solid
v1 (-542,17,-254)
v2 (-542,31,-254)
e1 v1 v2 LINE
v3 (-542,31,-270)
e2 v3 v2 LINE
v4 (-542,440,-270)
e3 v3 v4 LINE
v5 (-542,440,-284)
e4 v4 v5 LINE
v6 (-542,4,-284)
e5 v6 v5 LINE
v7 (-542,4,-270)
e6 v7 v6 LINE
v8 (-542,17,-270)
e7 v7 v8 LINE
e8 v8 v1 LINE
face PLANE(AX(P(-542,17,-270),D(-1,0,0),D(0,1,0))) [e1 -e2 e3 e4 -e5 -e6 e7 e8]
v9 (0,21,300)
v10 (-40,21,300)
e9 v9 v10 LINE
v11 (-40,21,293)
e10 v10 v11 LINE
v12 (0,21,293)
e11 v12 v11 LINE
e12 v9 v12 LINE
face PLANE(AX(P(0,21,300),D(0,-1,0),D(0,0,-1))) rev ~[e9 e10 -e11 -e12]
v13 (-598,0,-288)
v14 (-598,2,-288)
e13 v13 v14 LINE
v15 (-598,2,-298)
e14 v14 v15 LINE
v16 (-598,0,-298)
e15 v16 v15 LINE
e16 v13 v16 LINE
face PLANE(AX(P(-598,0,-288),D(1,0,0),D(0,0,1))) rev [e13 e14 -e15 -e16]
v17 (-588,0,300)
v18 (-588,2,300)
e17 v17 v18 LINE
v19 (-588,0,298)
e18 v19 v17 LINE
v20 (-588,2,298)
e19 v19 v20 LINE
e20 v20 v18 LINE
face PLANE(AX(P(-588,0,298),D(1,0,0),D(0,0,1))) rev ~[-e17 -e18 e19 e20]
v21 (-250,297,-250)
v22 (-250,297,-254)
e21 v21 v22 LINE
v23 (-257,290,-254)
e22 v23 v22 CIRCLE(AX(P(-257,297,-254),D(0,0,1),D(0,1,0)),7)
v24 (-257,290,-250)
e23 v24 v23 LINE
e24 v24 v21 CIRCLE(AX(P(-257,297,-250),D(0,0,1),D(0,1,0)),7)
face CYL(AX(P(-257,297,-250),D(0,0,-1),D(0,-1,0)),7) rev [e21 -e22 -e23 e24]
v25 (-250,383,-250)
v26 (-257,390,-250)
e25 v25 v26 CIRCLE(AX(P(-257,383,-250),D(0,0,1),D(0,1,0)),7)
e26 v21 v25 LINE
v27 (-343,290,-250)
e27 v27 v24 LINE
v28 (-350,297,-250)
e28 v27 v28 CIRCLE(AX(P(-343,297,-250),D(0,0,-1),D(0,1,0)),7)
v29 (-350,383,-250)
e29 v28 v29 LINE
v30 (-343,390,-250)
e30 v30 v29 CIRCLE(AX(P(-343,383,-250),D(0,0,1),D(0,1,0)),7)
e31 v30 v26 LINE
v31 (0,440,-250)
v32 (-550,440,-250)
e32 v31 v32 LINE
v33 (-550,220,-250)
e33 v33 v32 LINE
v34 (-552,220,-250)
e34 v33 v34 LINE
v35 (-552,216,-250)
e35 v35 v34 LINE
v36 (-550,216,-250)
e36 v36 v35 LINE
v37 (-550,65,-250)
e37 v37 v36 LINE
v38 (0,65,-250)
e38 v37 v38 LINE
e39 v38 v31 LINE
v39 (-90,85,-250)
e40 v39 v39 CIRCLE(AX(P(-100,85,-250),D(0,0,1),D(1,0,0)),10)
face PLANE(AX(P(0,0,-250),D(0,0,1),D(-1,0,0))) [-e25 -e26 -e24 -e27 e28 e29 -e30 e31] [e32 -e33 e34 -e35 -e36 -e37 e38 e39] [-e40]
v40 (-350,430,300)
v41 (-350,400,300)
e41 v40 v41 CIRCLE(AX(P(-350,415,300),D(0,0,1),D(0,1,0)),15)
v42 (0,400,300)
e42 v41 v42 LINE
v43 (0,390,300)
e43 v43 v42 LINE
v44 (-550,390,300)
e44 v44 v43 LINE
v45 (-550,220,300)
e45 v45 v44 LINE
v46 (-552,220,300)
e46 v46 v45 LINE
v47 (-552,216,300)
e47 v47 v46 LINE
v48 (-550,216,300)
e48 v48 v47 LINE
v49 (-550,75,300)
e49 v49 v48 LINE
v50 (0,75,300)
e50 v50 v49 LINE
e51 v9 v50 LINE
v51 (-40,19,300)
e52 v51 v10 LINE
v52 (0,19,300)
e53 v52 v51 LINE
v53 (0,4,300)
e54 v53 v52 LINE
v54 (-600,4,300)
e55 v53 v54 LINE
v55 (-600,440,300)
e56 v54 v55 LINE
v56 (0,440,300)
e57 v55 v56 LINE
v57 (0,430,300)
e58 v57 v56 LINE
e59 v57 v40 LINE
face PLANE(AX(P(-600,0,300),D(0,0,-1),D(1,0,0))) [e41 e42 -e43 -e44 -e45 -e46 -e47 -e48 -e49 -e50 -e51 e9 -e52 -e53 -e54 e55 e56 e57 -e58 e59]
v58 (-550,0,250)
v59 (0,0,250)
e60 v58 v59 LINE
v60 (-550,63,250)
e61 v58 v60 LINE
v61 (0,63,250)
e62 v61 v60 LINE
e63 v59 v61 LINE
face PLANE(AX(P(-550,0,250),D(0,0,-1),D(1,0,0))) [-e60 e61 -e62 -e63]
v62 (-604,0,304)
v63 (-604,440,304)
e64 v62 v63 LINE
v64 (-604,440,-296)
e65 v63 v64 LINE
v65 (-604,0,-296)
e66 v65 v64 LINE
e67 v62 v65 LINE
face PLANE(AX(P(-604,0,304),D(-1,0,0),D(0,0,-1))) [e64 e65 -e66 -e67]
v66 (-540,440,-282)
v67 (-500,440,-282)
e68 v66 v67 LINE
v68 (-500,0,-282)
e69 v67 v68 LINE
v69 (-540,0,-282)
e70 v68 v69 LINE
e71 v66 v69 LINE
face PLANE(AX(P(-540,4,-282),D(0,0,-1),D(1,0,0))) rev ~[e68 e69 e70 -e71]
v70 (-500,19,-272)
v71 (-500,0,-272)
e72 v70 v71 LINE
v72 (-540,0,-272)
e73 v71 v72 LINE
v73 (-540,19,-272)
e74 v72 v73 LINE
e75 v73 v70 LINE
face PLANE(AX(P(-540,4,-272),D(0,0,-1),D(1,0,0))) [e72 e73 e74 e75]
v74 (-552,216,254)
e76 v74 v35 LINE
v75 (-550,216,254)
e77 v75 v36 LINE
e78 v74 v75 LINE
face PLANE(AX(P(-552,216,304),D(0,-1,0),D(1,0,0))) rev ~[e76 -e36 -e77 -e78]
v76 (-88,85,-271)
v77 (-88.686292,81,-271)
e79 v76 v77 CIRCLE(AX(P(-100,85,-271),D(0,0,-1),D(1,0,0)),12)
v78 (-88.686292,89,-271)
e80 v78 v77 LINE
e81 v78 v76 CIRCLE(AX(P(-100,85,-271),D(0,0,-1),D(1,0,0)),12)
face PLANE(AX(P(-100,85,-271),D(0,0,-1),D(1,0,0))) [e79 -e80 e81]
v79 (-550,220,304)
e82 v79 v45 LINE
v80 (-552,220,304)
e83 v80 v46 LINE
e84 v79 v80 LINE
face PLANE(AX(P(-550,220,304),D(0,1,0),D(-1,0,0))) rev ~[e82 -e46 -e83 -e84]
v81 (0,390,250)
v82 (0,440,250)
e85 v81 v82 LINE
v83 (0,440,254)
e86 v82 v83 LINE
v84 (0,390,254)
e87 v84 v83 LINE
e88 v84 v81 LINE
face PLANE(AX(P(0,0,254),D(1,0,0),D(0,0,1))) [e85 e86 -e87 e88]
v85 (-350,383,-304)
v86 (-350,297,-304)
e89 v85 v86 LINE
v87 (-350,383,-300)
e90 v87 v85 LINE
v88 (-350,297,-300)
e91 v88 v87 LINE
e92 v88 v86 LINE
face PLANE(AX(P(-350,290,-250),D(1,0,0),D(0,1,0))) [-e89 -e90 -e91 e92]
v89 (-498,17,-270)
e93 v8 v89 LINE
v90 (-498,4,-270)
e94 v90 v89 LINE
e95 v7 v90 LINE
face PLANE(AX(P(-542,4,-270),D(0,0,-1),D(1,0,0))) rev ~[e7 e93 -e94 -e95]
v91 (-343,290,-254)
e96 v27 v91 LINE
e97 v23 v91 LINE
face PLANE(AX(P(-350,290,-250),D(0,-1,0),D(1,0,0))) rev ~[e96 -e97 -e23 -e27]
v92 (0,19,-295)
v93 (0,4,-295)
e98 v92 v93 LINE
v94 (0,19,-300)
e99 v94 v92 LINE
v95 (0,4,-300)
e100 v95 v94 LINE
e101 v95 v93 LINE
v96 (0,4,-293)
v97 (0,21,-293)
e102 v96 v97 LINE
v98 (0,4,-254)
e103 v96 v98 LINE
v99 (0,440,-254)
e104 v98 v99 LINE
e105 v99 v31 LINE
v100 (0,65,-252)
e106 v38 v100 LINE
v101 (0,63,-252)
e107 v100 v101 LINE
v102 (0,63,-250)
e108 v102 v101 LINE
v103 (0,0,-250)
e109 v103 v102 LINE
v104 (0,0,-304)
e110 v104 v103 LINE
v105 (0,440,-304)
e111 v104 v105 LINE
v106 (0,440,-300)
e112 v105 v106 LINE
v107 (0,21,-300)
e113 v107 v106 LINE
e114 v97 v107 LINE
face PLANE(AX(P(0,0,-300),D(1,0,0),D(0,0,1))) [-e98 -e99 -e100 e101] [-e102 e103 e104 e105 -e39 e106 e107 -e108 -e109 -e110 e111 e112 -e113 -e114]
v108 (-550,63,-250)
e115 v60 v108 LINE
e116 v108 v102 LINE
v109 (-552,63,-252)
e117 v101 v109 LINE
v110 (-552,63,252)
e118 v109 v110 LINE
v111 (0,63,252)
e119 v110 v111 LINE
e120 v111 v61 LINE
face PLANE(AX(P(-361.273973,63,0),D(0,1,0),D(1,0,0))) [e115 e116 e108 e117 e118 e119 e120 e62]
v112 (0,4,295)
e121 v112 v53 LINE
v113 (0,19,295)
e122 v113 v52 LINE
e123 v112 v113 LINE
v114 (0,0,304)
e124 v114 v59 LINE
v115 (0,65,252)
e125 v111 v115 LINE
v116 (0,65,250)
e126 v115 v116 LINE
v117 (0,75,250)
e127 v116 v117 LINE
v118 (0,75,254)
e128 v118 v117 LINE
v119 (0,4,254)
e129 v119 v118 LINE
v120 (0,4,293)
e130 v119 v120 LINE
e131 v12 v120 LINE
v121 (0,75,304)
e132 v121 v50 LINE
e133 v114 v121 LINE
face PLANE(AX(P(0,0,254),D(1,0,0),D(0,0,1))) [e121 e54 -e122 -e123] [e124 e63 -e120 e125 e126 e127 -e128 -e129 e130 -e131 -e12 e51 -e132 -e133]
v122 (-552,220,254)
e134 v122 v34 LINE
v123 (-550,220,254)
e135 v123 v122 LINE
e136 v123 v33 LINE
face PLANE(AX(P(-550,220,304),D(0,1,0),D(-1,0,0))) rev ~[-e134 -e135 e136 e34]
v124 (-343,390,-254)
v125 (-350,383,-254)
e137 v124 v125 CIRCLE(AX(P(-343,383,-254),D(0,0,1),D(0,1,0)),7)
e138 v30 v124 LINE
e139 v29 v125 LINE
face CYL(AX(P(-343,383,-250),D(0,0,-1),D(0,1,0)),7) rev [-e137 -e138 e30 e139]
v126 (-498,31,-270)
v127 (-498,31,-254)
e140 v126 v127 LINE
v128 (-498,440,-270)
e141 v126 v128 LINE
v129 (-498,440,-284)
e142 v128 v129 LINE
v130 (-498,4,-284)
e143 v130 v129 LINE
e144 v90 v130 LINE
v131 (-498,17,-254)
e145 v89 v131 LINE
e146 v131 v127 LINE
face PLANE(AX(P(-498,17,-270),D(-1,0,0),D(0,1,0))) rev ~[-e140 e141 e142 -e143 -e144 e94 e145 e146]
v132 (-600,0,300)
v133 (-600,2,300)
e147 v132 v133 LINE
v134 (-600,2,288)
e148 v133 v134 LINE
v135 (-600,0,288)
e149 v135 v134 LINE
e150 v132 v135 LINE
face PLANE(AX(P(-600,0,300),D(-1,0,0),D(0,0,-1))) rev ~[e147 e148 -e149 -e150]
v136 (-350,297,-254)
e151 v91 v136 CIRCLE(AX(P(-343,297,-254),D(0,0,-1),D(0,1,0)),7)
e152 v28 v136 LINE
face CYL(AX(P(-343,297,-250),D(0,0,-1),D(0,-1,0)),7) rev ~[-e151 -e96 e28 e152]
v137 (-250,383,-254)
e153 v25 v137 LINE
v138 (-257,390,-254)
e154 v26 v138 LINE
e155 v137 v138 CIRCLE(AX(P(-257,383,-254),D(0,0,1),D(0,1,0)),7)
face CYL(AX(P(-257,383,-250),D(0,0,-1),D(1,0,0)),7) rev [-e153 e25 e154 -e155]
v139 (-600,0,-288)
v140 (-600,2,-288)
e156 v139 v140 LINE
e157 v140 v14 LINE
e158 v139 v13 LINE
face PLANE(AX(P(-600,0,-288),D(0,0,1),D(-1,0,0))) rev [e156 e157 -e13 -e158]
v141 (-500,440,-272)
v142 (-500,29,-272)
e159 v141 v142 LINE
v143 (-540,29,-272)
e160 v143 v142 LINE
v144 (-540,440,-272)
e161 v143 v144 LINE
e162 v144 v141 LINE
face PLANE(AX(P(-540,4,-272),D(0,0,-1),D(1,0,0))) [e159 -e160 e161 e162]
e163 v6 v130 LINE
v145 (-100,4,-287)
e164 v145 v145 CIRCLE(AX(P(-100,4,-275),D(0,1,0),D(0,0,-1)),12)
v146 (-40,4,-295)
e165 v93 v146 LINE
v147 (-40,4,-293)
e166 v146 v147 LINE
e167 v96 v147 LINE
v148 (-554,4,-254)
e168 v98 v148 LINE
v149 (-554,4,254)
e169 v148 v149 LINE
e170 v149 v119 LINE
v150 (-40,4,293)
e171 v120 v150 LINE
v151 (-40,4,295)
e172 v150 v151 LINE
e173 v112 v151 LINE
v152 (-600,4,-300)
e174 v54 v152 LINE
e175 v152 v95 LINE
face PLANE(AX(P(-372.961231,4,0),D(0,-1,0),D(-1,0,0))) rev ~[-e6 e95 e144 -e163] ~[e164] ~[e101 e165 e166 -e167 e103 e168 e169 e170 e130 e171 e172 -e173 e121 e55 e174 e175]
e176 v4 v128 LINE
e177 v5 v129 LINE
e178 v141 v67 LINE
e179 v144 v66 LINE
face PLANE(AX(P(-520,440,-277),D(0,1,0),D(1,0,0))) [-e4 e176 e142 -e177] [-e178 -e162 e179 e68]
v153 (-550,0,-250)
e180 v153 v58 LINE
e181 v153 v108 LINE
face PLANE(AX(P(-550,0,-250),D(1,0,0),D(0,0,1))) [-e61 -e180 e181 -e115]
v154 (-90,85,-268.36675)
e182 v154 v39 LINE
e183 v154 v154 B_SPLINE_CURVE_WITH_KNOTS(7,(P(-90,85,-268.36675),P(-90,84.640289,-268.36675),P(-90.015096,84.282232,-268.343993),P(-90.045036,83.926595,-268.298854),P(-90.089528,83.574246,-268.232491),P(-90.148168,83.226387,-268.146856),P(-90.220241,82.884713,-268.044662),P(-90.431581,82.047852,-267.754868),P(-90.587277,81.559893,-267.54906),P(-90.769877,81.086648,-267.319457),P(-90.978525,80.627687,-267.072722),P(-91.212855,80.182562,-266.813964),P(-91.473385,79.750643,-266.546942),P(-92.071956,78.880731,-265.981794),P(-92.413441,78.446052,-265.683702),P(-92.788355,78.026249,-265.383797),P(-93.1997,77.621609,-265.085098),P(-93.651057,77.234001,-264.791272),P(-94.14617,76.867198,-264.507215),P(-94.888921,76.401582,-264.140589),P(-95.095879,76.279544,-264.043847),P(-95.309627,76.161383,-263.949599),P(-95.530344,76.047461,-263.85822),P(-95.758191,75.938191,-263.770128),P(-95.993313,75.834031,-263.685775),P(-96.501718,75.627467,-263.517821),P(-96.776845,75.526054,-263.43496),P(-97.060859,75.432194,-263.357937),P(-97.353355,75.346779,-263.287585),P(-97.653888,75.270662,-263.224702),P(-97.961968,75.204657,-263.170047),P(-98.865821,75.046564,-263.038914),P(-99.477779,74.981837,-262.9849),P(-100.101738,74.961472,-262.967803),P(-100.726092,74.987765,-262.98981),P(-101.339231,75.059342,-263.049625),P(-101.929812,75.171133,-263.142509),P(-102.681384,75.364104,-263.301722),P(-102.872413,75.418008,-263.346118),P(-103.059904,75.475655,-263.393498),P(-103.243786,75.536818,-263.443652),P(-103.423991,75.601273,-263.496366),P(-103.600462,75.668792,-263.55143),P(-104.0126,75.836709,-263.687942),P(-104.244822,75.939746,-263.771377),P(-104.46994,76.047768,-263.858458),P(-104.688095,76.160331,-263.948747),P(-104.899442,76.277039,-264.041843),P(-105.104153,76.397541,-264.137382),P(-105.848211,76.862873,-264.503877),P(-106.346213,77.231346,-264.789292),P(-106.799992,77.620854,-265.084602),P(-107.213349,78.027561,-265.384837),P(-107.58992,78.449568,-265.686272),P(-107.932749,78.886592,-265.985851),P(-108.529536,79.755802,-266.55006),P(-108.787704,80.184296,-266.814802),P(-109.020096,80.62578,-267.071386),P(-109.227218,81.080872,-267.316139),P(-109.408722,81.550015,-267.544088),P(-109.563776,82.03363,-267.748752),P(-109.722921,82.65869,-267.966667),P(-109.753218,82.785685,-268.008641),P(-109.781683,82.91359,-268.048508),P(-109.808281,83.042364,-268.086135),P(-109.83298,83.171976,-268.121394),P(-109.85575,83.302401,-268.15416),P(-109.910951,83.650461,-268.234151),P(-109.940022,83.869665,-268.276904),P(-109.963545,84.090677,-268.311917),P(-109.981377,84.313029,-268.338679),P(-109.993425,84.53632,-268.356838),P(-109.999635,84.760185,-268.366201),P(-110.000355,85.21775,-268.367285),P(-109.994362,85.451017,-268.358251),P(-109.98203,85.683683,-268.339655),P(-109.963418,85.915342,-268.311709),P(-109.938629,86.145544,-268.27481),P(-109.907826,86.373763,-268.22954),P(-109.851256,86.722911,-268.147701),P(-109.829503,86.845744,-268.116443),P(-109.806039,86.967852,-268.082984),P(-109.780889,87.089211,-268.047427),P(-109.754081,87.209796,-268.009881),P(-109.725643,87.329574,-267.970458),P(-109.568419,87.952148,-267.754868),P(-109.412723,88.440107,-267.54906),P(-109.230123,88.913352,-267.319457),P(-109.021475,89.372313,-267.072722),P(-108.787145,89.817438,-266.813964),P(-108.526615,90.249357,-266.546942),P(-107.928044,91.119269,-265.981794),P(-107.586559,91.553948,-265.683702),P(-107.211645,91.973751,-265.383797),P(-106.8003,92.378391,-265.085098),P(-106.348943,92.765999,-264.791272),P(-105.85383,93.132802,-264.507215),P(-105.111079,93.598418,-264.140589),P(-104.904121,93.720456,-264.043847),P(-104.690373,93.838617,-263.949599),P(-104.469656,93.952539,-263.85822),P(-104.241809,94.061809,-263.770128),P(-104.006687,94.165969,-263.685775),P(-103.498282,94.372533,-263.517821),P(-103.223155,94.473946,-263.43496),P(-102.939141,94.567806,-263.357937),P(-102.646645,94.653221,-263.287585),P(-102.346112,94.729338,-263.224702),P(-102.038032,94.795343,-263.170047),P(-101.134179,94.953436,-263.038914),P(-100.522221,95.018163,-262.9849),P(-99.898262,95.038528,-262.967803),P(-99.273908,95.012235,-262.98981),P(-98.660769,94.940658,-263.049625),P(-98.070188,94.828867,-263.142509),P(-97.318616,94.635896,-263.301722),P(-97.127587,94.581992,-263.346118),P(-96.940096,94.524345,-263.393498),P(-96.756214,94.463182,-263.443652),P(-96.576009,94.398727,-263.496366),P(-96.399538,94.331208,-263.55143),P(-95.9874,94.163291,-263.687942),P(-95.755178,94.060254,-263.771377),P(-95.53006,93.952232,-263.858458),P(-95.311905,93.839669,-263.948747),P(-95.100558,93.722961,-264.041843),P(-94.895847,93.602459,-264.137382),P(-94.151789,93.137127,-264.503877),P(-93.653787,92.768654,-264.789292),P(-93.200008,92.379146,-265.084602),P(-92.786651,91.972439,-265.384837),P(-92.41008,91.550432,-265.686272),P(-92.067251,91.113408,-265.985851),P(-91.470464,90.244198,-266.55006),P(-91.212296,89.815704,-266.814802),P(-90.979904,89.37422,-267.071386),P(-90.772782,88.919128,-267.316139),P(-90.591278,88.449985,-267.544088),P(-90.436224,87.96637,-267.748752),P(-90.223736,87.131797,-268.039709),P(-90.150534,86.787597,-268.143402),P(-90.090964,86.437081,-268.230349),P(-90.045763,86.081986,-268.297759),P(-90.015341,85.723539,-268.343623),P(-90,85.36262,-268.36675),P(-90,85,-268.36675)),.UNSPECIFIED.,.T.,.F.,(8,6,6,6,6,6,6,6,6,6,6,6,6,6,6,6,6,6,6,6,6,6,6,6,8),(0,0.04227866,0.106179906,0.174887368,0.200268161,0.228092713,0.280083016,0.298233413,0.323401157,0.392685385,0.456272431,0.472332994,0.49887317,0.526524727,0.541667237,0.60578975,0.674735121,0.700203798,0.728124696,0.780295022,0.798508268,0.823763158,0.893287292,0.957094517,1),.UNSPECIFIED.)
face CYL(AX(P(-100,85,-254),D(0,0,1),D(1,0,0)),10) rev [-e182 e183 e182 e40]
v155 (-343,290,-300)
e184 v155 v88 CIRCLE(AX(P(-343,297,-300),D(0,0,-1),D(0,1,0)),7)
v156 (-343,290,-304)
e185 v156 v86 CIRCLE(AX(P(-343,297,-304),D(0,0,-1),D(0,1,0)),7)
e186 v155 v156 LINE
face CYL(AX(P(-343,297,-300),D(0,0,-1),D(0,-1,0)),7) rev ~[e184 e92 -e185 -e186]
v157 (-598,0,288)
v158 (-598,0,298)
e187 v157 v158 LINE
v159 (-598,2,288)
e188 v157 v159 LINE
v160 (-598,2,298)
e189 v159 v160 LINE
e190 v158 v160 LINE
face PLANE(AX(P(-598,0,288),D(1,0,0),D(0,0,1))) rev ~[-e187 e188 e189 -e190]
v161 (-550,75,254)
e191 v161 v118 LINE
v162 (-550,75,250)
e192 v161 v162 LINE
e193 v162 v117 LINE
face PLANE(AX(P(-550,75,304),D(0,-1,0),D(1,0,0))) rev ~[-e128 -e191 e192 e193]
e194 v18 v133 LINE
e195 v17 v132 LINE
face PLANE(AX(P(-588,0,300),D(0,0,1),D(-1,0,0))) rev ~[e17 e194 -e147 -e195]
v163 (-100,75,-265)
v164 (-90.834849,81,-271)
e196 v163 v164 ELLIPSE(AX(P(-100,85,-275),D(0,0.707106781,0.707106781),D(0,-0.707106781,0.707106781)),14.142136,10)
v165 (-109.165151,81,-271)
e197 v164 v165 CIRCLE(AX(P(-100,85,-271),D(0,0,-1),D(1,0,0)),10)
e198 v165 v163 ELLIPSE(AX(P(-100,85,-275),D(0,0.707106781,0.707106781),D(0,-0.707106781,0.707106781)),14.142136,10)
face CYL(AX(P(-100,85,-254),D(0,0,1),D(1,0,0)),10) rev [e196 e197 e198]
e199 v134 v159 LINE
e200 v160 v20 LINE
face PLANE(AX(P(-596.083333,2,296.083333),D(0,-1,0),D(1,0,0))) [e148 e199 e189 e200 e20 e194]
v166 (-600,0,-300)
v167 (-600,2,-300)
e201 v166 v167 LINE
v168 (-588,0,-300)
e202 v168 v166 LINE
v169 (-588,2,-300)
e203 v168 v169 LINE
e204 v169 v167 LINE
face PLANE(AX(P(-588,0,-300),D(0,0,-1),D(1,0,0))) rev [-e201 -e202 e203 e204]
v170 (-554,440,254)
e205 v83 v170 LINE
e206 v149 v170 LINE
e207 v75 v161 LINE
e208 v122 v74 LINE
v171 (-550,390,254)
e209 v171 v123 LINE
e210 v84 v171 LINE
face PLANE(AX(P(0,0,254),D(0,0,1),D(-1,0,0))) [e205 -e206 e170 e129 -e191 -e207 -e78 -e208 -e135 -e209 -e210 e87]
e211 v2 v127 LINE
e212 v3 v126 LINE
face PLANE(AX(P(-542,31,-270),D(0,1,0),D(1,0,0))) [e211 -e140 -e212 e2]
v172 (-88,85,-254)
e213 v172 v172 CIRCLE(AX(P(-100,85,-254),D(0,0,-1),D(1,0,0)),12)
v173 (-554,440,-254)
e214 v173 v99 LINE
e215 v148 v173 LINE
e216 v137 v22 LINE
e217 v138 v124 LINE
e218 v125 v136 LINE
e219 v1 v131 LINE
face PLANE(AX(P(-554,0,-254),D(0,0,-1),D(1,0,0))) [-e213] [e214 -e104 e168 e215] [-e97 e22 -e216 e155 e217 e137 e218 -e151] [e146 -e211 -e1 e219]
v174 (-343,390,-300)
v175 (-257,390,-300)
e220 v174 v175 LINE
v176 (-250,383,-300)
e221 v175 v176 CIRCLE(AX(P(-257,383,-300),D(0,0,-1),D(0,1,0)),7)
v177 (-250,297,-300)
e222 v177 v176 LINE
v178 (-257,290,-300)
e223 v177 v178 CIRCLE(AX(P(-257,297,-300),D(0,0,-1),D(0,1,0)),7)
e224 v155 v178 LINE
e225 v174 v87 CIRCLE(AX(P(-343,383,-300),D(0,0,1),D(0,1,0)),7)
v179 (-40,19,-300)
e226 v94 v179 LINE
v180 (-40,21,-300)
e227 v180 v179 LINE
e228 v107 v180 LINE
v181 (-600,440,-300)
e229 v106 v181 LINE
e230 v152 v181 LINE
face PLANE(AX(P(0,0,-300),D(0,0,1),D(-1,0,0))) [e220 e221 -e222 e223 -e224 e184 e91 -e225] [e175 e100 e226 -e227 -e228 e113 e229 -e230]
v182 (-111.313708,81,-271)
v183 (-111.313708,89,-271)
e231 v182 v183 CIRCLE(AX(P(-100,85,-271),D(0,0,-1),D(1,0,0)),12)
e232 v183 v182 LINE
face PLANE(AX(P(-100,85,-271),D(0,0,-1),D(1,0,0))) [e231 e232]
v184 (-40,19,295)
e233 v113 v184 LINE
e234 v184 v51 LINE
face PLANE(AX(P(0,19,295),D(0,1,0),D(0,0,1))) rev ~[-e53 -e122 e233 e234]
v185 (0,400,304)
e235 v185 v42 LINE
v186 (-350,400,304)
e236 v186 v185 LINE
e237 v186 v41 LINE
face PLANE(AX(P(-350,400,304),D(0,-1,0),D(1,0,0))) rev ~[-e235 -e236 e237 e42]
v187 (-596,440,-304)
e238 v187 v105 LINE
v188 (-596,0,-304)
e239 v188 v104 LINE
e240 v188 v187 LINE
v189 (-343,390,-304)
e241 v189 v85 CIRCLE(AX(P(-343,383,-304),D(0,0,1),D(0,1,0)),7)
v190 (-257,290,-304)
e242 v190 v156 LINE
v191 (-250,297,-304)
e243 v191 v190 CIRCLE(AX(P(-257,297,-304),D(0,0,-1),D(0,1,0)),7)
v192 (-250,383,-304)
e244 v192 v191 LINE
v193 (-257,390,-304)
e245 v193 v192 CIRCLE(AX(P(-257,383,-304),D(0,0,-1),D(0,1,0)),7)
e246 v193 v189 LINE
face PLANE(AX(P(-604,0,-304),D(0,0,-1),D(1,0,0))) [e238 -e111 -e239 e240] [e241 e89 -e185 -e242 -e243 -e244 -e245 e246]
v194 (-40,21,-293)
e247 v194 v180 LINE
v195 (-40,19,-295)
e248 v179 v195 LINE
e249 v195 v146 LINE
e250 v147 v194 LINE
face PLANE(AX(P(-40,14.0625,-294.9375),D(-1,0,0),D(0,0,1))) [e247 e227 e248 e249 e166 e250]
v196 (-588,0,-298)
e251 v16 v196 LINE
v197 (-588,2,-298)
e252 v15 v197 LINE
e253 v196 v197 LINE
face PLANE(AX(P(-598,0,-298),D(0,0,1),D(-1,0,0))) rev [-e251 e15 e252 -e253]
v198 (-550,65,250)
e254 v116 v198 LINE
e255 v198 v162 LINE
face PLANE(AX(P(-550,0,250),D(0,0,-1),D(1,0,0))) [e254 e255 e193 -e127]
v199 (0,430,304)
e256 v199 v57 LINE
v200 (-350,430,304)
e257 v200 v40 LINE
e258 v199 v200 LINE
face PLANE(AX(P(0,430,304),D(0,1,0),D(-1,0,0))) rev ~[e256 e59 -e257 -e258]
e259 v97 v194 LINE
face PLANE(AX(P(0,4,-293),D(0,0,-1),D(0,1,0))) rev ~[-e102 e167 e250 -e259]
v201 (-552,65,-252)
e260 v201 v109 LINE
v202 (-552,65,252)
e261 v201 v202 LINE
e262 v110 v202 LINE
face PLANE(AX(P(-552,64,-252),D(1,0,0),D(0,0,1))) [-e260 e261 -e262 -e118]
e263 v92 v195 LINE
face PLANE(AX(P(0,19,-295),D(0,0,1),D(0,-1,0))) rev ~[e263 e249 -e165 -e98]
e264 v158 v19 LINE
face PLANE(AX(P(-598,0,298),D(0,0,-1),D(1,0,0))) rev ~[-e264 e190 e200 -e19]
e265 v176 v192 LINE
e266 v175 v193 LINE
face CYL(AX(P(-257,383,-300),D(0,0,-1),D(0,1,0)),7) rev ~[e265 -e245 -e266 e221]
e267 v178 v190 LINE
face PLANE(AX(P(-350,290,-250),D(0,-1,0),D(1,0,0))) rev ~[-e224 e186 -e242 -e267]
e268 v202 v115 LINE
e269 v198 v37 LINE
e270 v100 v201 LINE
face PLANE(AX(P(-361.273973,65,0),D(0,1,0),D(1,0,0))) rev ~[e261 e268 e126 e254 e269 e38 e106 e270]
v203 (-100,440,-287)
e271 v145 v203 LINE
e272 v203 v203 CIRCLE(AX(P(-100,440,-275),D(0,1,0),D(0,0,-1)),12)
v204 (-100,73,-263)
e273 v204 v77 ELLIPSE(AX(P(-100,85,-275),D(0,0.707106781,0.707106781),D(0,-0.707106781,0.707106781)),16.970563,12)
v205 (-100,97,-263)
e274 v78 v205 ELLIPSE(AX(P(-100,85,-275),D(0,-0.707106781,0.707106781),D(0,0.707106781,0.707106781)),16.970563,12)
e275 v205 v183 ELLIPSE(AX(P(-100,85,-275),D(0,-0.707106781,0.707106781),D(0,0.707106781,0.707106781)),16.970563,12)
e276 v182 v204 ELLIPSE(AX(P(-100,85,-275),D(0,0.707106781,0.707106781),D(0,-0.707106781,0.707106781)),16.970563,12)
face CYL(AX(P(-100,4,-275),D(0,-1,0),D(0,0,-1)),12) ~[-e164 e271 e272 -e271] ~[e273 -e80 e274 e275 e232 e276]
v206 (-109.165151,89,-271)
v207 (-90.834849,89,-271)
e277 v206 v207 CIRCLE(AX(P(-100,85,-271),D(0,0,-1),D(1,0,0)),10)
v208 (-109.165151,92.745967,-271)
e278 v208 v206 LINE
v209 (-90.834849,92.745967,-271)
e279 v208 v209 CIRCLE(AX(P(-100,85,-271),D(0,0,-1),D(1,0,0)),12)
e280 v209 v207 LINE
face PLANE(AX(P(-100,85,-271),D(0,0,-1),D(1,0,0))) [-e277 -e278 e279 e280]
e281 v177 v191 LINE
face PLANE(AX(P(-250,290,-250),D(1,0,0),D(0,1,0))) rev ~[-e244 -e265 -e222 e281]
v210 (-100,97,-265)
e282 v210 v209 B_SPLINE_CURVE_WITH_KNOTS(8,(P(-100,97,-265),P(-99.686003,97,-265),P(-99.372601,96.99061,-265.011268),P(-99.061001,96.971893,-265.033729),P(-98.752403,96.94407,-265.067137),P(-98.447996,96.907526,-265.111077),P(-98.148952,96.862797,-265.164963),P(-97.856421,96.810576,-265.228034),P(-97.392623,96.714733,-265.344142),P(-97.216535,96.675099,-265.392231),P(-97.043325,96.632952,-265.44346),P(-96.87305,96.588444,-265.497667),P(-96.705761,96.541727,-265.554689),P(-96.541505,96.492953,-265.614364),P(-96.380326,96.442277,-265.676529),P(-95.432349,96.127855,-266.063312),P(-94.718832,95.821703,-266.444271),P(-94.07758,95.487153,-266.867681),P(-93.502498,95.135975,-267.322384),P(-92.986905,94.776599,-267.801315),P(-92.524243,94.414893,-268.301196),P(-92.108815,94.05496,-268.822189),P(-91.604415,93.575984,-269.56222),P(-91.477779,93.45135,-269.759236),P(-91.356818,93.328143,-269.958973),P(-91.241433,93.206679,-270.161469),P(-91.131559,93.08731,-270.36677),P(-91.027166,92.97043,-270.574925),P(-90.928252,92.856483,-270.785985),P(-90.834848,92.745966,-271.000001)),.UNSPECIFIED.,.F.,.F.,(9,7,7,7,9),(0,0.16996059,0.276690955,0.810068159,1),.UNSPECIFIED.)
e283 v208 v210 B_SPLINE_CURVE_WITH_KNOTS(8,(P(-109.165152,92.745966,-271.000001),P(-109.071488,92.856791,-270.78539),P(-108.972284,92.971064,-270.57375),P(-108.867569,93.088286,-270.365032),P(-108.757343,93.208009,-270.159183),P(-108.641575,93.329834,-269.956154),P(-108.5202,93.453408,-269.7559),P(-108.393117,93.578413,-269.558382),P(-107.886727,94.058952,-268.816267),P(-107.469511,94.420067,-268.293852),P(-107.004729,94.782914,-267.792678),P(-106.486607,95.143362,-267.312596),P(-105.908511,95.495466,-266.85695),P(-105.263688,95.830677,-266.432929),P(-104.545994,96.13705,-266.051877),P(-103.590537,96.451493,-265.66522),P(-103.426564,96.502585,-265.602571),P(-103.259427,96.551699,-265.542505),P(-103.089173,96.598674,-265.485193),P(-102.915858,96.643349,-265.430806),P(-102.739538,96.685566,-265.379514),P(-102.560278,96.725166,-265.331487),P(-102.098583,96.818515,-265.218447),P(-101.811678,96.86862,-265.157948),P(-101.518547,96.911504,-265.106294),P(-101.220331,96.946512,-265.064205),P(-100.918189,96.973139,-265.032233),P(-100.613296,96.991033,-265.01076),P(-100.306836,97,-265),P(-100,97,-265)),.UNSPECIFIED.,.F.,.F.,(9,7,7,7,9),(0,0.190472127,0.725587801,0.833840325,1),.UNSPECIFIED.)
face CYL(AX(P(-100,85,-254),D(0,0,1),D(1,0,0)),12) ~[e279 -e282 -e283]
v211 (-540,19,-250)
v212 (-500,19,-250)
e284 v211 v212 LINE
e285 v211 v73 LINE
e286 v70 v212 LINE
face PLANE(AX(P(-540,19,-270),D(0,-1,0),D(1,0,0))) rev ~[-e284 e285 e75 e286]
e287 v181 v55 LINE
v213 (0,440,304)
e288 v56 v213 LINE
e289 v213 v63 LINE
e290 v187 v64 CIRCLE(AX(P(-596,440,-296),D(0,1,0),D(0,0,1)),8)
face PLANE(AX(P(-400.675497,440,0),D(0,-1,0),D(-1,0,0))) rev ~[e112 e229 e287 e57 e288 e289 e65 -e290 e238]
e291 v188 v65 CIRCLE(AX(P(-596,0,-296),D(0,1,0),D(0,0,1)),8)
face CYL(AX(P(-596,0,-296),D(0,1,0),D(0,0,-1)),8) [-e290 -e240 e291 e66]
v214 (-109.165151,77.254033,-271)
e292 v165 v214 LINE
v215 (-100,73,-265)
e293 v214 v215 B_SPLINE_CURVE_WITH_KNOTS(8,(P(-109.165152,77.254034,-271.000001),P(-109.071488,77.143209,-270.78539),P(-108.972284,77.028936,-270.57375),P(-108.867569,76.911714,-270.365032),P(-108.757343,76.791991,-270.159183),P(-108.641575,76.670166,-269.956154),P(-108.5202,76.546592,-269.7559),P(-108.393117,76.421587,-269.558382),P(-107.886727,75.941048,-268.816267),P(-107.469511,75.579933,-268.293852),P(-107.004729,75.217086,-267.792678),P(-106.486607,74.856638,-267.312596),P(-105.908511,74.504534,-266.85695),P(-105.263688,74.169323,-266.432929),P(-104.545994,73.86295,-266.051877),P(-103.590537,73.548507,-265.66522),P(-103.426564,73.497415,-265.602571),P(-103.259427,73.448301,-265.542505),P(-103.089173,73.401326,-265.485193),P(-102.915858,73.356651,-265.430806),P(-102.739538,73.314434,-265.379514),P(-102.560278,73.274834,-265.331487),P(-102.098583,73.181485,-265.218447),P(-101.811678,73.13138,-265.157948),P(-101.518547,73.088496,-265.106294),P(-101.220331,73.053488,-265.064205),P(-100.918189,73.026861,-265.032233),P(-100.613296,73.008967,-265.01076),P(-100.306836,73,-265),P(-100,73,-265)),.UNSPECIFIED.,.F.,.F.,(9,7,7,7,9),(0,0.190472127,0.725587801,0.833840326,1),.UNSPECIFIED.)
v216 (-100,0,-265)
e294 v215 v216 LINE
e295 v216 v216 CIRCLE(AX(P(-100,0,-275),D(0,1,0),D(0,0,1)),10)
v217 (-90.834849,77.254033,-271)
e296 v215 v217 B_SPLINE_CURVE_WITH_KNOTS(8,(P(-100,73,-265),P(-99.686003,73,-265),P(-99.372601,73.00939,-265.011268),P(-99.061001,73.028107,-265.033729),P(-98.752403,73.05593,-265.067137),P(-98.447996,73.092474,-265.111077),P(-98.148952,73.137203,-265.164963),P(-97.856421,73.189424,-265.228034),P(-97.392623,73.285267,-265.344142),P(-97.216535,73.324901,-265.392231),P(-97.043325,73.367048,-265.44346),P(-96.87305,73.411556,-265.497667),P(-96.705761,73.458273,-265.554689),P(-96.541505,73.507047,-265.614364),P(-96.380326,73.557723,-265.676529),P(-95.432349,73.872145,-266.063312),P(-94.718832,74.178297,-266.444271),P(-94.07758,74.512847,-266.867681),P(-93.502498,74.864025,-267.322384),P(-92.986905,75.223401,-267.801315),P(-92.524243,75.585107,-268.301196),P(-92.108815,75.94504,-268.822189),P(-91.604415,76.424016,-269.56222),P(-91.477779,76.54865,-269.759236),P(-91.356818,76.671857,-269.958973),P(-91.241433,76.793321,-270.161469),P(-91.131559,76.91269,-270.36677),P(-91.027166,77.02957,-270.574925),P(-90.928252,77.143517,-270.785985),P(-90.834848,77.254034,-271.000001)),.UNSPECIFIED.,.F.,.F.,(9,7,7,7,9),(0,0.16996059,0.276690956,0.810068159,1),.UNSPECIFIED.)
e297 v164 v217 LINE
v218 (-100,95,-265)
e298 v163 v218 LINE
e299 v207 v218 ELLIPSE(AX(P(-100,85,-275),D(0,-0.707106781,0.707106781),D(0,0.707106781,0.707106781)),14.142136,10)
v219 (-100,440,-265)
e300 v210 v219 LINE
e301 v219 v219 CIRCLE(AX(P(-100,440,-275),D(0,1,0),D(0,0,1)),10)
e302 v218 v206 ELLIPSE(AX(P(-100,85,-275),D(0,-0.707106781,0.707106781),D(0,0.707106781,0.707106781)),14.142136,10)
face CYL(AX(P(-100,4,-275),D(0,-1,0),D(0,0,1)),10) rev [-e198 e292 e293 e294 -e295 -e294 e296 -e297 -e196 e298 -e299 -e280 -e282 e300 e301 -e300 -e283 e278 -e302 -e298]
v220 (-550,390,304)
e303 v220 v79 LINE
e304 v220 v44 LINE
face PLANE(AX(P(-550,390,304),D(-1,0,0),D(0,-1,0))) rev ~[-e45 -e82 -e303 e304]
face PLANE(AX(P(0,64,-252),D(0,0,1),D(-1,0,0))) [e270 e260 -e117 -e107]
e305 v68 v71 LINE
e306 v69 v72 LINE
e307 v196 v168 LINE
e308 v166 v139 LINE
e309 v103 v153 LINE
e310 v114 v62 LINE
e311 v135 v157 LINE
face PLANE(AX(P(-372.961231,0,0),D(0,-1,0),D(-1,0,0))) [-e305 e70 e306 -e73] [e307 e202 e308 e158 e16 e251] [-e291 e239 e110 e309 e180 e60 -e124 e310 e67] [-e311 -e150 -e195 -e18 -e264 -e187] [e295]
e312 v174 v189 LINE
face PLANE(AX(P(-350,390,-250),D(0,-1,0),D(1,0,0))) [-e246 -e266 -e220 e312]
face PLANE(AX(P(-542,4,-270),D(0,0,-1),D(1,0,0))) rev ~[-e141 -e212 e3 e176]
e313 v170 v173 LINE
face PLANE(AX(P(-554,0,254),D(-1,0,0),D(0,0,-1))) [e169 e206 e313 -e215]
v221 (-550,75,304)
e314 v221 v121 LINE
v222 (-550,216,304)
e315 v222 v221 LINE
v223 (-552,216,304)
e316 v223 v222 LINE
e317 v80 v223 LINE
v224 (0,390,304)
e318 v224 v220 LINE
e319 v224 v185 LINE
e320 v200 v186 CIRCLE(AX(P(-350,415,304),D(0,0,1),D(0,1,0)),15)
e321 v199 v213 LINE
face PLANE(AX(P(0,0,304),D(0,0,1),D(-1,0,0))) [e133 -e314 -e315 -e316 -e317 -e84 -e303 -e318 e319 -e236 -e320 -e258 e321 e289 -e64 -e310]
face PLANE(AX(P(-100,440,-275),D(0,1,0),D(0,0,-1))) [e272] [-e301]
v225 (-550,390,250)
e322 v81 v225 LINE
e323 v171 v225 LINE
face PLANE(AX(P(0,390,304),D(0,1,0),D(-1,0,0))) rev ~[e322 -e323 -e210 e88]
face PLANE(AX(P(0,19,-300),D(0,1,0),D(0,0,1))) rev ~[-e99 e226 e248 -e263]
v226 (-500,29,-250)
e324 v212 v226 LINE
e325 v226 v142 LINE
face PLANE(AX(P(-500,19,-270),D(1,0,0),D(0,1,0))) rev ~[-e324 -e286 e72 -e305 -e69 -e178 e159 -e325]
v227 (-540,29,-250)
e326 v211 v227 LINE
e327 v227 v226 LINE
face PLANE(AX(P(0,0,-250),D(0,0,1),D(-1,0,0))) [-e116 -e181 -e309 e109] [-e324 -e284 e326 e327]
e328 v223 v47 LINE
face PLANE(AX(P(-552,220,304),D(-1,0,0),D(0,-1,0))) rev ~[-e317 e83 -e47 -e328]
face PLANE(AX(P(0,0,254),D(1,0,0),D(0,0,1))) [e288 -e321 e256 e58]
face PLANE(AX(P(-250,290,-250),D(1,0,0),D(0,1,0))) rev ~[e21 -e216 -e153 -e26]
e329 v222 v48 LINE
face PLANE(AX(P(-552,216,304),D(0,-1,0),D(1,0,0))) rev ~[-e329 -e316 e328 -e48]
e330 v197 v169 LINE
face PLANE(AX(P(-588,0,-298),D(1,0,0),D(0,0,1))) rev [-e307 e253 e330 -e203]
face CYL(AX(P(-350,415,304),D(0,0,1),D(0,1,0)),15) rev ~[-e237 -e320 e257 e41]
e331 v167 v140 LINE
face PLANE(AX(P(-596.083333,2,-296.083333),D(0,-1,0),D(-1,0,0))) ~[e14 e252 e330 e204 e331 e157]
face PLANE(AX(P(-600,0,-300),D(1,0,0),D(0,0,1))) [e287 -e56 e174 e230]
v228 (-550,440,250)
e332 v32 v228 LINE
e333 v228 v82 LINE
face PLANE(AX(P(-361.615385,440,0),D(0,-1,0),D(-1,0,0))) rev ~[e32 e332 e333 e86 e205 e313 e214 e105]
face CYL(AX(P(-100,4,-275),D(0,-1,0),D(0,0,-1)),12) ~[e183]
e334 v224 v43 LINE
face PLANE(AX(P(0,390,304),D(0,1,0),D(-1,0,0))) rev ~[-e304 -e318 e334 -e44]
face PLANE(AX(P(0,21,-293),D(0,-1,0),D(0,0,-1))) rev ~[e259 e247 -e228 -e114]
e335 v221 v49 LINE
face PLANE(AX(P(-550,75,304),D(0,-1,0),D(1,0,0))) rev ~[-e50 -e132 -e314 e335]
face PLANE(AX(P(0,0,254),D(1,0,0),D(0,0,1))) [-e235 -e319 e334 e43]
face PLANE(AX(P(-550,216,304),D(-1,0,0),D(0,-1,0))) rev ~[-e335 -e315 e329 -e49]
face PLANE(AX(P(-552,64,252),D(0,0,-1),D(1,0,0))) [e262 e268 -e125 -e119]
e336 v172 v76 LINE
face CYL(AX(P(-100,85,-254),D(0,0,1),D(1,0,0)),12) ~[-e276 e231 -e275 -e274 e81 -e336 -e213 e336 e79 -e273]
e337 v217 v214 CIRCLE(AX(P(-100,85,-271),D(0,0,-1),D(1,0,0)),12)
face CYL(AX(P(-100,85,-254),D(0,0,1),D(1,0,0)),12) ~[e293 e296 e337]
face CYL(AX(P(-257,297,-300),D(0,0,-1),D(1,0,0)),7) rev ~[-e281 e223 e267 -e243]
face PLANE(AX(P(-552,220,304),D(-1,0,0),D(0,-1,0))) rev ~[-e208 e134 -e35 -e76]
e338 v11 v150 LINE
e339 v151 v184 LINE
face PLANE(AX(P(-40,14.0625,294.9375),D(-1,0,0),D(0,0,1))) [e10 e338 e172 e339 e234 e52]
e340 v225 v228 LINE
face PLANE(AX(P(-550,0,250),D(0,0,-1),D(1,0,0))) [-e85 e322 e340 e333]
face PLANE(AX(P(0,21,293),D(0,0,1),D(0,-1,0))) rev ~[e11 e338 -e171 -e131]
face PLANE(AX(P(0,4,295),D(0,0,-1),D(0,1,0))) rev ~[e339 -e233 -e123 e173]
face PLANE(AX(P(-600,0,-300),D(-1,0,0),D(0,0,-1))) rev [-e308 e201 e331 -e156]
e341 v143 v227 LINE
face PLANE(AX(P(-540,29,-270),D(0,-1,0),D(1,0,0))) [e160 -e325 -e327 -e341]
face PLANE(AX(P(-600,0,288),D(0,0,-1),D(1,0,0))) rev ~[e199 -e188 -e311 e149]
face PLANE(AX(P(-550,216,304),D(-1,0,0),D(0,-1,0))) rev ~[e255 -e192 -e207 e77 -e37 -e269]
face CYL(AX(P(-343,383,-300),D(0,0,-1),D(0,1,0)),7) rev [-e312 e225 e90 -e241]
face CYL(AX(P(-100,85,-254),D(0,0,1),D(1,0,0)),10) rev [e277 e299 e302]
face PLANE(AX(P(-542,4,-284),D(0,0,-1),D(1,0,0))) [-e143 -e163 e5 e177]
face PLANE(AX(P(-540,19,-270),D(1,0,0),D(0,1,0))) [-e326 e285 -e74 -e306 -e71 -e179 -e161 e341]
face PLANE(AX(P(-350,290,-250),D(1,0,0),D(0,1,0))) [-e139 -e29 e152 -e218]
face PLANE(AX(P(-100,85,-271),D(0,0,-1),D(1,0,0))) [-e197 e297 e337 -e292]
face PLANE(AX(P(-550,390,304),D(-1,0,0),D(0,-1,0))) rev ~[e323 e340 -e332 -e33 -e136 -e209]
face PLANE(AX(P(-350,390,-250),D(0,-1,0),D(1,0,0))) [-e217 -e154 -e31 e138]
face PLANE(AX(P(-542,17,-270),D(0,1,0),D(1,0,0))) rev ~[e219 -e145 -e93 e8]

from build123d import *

# Parameters (mm, degrees)
BOSS_EXTRUDE1_DEPTH             = 440
BOSS_EXTRUDE2_DEPTH             = 440
BOSS_EXTRUDE3_DEPTH             = 4
SKETCH4_W                       = 500
SKETCH4_H                       = 4
CUT_EXTRUDE1_DEPTH              = 2
CUT_EXTRUDE3_DEPTH              = 1
CUT_EXTRUDE3_DEPTH_BACK         = 1
CUT_EXTRUDE6_DEPTH              = 54
BOSS_EXTRUDE6_DEPTH             = 40
BOSS_EXTRUDE5_DEPTH             = 40
CUT_EXTRUDE9_DEPTH              = 4
SKETCH14_W                      = 100
SKETCH14_H                      = 100
CUT_EXTRUDE10_DEPTH             = 931.23222907
FILLET1_R                       = 7
FILLET2_R                       = 8
CUT_EXTRUDE11_DEPTH             = 2
SKETCH17_W                      = 40
SKETCH17_H                      = 10
CUT_EXTRUDE12_DEPTH             = 10
SKETCH18_W                      = 44
SKETCH18_H                      = 14
SKETCH18_W_2                    = 40
SKETCH18_H_2                    = 10
BOSS_EXTRUDE7_DEPTH             = 436
CUT_EXTRUDE13_REACH             = 944.28
SKETCH19_W                      = 40
SKETCH19_H                      = 10
CUT_EXTRUDE13_DIRECTION_2_DEPTH = 2
SKETCH20_W                      = 44
SKETCH20_H                      = 14
SKETCH20_W_2                    = 40
SKETCH20_H_2                    = 10
BOSS_EXTRUDE8_DEPTH             = 16
SKETCH21_R                      = 10
CUT_EXTRUDE14_DEPTH             = 25
SKETCH25_R                      = 12
SKETCH25_R_2                    = 10
BOSS_EXTRUDE10_DEPTH            = 17
SKETCH22_R                      = 10
CUT_EXTRUDE15_DEPTH             = 4
SKETCH23_R                      = 12
SKETCH23_R_2                    = 10
BOSS_EXTRUDE9_DEPTH             = 436


with BuildPart() as part:
    # Sketch1 → Boss-Extrude1 (new body)
    with BuildSketch(Plane(origin=(0, 0, 0), x_dir=(1, 0, 0), z_dir=(0, 1, 0))):
        Polygon((0, 300), (-600, 300), (-600, -300), (0, -300), (0, -304), (-604, -304), (-604, 304), (0, 304), align=None)
    extrude(amount=BOSS_EXTRUDE1_DEPTH)



with BuildPart() as body_2:
    # Sketch2 → Boss-Extrude2 (new body)
    with BuildSketch(Plane(origin=(0, 0, 0), x_dir=(1, 0, 0), z_dir=(0, 1, 0))):
        Polygon((0, 250), (-550, 250), (-550, -250), (0, -250), (0, -254), (-554, -254), (-554, 254), (0, 254), align=None)
    extrude(amount=BOSS_EXTRUDE2_DEPTH)


with BuildPart() as part_1:
    add(part.part)

    add(body_2.part)  # Boss-Extrude3 merges body 2
    # Sketch3 → Boss-Extrude3 (add)
    with BuildSketch(Plane(origin=(0, 0, 0), x_dir=(1, 0, 0), z_dir=(0, 1, 0))):
        Polygon((0, -254), (0, -300), (-600, -300), (-600, 300), (0, 300), (0, 254), (-554, 254), (-554, -254), align=None)
    extrude(amount=BOSS_EXTRUDE3_DEPTH)

    # Sketch4 → Cut-Extrude1 (cut)
    with BuildSketch(Plane(origin=(-550, 0, 0), x_dir=(0, 0, -1), z_dir=(1, 0, 0))):
        with Locations((0, 218)):
            Rectangle(SKETCH4_W, SKETCH4_H)
    extrude(amount=-CUT_EXTRUDE1_DEPTH, mode=Mode.SUBTRACT)

    # Sketch7 → Cut-Extrude3 (cut, two sides)
    with BuildSketch(Plane(origin=(0, 64, 0), x_dir=(1, 0, 0), z_dir=(0, 1, 0))) as cut_extrude3_sk:
        Polygon((-550, 250), (0, 250), (0, 252), (-552, 252), (-552, -252), (0, -252), (0, -250), (-550, -250), align=None)
    extrude(amount=CUT_EXTRUDE3_DEPTH, mode=Mode.SUBTRACT)
    extrude(cut_extrude3_sk.sketch, amount=-CUT_EXTRUDE3_DEPTH_BACK, mode=Mode.SUBTRACT)

    # Sketch10 → Cut-Extrude6 (cut)
    with BuildSketch(Plane.XY.offset(304)):
        Polygon((0, 390), (-550, 390), (-550, 220), (-552, 220), (-552, 216), (-550, 216), (-550, 75), (0, 75), align=None)
    extrude(amount=-CUT_EXTRUDE6_DEPTH, mode=Mode.SUBTRACT)

    # Sketch11 → Boss-Extrude6 (add)
    with BuildSketch(Plane(origin=(0, 0, 0), x_dir=(0, 0, -1), z_dir=(1, 0, 0))):
        Polygon((-295, 4), (-295, 19), (-300, 19), (-300, 21), (-293, 21), (-293, 4), align=None)
    extrude(amount=-BOSS_EXTRUDE6_DEPTH)

    # Sketch12 → Boss-Extrude5 (add)
    with BuildSketch(Plane(origin=(0, 0, 0), x_dir=(0, 0, -1), z_dir=(1, 0, 0))):
        Polygon((295, 4), (293, 4), (293, 21), (300, 21), (300, 19), (295, 19), align=None)
    extrude(amount=-BOSS_EXTRUDE5_DEPTH)

    # Sketch13 → Cut-Extrude9 (cut)
    with BuildSketch(Plane.XY.offset(304)):
        with BuildLine():
            Line((0, 400), (0, 430))
            Line((0, 430), (-350, 430))
            ThreePointArc((-350, 430), (-365, 415), (-350, 400))
            Line((-350, 400), (0, 400))
        make_face()
    extrude(amount=-CUT_EXTRUDE9_DEPTH, mode=Mode.SUBTRACT)

    # Sketch14 → Cut-Extrude10 (cut, through all)
    with BuildSketch(Plane.XY.offset(-250)):
        with Locations((-300, 340)):
            Rectangle(SKETCH14_W, SKETCH14_H)
    extrude(amount=-CUT_EXTRUDE10_DEPTH, mode=Mode.SUBTRACT)

    # Fillet1
    fillet1_edges = [part_1.edges().sort_by_distance(p)[0] for p in [
        (-350, 290, -302),
        (-350, 290, -252),
        (-350, 390, -302),
        (-350, 390, -252),
        (-250, 390, -302),
        (-250, 390, -252),
        (-250, 290, -302),
        (-250, 290, -252),
    ]]
    fillet(fillet1_edges, radius=FILLET1_R)

    # Fillet2
    fillet2_edges = [part_1.edges().sort_by_distance(p)[0] for p in [
        (-604, 220, -304),
    ]]
    fillet(fillet2_edges, radius=FILLET2_R)

    # Sketch15 → Cut-Extrude11 (cut)
    with BuildSketch(Plane.XZ):
        Polygon((-600, 300), (-600, 288), (-598, 288), (-598, 298), (-588, 298), (-588, 300), align=None)
    cut_extrude11 = extrude(amount=-CUT_EXTRUDE11_DEPTH, mode=Mode.SUBTRACT)

    # Mirror1: Cut-Extrude11 across plane
    add(cut_extrude11.mirror(Plane.XY), mode=Mode.SUBTRACT)

    # Sketch17 → Cut-Extrude12 (cut)
    with BuildSketch(Plane(origin=(0, 4, 0), x_dir=(1, 0, 0), z_dir=(0, 1, 0))):
        with Locations((-520, 277)):
            Rectangle(SKETCH17_W, SKETCH17_H)
    extrude(amount=-CUT_EXTRUDE12_DEPTH, mode=Mode.SUBTRACT)

    # Sketch18 → Boss-Extrude7 (add)
    with BuildSketch(Plane(origin=(0, 4, 0), x_dir=(1, 0, 0), z_dir=(0, 1, 0))):
        with Locations((-520, 277)):
            Rectangle(SKETCH18_W, SKETCH18_H)
        with Locations((-520, 277)):
            Rectangle(SKETCH18_W_2, SKETCH18_H_2, mode=Mode.SUBTRACT)
    extrude(amount=BOSS_EXTRUDE7_DEPTH)

    # Cut-Extrude13: up to this face of the body (flat: up to its plane)
    cut_extrude13_end = Plane(part_1.part.faces().sort_by_distance((-273.743044457, 248.059881287, -250))[0])
    # Sketch19 → Cut-Extrude13 (cut, up to the picked face)
    with BuildSketch(Plane.XY.offset(-270), mode=Mode.PRIVATE) as cut_extrude13_sk1:
        with Locations((-520, 24)):
            Rectangle(SKETCH19_W, SKETCH19_H)
    cut_extrude13_tool1 = split(extrude(cut_extrude13_sk1.sketch, amount=CUT_EXTRUDE13_REACH, mode=Mode.PRIVATE), bisect_by=cut_extrude13_end, keep=Keep.BOTH, mode=Mode.PRIVATE)
    add(cut_extrude13_tool1.solids().sort_by(Axis((-520, 24, -270), (0, 0, 1)))[0], mode=Mode.SUBTRACT)

    # Sketch19 → Cut-Extrude13 direction 2 (cut)
    with BuildSketch(Plane.XY.offset(-270)):
        with Locations((-520, 24)):
            Rectangle(SKETCH19_W, SKETCH19_H)
    extrude(amount=-CUT_EXTRUDE13_DIRECTION_2_DEPTH, mode=Mode.SUBTRACT)

    # Sketch20 → Boss-Extrude8 (add)
    with BuildSketch(Plane.XY.offset(-270)):
        with Locations((-520, 24)):
            Rectangle(SKETCH20_W, SKETCH20_H)
        with Locations((-520, 24)):
            Rectangle(SKETCH20_W_2, SKETCH20_H_2, mode=Mode.SUBTRACT)
    extrude(amount=BOSS_EXTRUDE8_DEPTH)

    # Sketch21 → Cut-Extrude14 (cut)
    with BuildSketch(Plane.XY.offset(-250)):
        with Locations((-100, 85)):
            Circle(SKETCH21_R)
    extrude(amount=-CUT_EXTRUDE14_DEPTH, mode=Mode.SUBTRACT)

    # Sketch25 → Boss-Extrude10 (add)
    with BuildSketch(Plane(origin=(0, 0, -254), x_dir=(-1, 0, 0), z_dir=(0, 0, -1))):
        with Locations(Location((100, 85, 0), (0, 0, 180))):
            Circle(SKETCH25_R)
        with Locations(Location((100, 85, 0), (0, 0, 180))):
            Circle(SKETCH25_R_2, mode=Mode.SUBTRACT)
    extrude(amount=BOSS_EXTRUDE10_DEPTH)

    # Sketch22 → Cut-Extrude15 (cut)
    with BuildSketch(Plane(origin=(0, 4, 0), x_dir=(1, 0, 0), z_dir=(0, 1, 0))):
        with Locations(Location((-100, 275, 0), (0, 0, 270))):
            Circle(SKETCH22_R)
    extrude(amount=-CUT_EXTRUDE15_DEPTH, mode=Mode.SUBTRACT)

    # Sketch23 → Boss-Extrude9 (add)
    with BuildSketch(Plane(origin=(0, 4, 0), x_dir=(1, 0, 0), z_dir=(0, 1, 0))):
        with Locations(Location((-100, 275, 0), (0, 0, 90))):
            Circle(SKETCH23_R)
        with Locations(Location((-100, 275, 0), (0, 0, 270))):
            Circle(SKETCH23_R_2, mode=Mode.SUBTRACT)
    extrude(amount=BOSS_EXTRUDE9_DEPTH)


solid = part_1.part
